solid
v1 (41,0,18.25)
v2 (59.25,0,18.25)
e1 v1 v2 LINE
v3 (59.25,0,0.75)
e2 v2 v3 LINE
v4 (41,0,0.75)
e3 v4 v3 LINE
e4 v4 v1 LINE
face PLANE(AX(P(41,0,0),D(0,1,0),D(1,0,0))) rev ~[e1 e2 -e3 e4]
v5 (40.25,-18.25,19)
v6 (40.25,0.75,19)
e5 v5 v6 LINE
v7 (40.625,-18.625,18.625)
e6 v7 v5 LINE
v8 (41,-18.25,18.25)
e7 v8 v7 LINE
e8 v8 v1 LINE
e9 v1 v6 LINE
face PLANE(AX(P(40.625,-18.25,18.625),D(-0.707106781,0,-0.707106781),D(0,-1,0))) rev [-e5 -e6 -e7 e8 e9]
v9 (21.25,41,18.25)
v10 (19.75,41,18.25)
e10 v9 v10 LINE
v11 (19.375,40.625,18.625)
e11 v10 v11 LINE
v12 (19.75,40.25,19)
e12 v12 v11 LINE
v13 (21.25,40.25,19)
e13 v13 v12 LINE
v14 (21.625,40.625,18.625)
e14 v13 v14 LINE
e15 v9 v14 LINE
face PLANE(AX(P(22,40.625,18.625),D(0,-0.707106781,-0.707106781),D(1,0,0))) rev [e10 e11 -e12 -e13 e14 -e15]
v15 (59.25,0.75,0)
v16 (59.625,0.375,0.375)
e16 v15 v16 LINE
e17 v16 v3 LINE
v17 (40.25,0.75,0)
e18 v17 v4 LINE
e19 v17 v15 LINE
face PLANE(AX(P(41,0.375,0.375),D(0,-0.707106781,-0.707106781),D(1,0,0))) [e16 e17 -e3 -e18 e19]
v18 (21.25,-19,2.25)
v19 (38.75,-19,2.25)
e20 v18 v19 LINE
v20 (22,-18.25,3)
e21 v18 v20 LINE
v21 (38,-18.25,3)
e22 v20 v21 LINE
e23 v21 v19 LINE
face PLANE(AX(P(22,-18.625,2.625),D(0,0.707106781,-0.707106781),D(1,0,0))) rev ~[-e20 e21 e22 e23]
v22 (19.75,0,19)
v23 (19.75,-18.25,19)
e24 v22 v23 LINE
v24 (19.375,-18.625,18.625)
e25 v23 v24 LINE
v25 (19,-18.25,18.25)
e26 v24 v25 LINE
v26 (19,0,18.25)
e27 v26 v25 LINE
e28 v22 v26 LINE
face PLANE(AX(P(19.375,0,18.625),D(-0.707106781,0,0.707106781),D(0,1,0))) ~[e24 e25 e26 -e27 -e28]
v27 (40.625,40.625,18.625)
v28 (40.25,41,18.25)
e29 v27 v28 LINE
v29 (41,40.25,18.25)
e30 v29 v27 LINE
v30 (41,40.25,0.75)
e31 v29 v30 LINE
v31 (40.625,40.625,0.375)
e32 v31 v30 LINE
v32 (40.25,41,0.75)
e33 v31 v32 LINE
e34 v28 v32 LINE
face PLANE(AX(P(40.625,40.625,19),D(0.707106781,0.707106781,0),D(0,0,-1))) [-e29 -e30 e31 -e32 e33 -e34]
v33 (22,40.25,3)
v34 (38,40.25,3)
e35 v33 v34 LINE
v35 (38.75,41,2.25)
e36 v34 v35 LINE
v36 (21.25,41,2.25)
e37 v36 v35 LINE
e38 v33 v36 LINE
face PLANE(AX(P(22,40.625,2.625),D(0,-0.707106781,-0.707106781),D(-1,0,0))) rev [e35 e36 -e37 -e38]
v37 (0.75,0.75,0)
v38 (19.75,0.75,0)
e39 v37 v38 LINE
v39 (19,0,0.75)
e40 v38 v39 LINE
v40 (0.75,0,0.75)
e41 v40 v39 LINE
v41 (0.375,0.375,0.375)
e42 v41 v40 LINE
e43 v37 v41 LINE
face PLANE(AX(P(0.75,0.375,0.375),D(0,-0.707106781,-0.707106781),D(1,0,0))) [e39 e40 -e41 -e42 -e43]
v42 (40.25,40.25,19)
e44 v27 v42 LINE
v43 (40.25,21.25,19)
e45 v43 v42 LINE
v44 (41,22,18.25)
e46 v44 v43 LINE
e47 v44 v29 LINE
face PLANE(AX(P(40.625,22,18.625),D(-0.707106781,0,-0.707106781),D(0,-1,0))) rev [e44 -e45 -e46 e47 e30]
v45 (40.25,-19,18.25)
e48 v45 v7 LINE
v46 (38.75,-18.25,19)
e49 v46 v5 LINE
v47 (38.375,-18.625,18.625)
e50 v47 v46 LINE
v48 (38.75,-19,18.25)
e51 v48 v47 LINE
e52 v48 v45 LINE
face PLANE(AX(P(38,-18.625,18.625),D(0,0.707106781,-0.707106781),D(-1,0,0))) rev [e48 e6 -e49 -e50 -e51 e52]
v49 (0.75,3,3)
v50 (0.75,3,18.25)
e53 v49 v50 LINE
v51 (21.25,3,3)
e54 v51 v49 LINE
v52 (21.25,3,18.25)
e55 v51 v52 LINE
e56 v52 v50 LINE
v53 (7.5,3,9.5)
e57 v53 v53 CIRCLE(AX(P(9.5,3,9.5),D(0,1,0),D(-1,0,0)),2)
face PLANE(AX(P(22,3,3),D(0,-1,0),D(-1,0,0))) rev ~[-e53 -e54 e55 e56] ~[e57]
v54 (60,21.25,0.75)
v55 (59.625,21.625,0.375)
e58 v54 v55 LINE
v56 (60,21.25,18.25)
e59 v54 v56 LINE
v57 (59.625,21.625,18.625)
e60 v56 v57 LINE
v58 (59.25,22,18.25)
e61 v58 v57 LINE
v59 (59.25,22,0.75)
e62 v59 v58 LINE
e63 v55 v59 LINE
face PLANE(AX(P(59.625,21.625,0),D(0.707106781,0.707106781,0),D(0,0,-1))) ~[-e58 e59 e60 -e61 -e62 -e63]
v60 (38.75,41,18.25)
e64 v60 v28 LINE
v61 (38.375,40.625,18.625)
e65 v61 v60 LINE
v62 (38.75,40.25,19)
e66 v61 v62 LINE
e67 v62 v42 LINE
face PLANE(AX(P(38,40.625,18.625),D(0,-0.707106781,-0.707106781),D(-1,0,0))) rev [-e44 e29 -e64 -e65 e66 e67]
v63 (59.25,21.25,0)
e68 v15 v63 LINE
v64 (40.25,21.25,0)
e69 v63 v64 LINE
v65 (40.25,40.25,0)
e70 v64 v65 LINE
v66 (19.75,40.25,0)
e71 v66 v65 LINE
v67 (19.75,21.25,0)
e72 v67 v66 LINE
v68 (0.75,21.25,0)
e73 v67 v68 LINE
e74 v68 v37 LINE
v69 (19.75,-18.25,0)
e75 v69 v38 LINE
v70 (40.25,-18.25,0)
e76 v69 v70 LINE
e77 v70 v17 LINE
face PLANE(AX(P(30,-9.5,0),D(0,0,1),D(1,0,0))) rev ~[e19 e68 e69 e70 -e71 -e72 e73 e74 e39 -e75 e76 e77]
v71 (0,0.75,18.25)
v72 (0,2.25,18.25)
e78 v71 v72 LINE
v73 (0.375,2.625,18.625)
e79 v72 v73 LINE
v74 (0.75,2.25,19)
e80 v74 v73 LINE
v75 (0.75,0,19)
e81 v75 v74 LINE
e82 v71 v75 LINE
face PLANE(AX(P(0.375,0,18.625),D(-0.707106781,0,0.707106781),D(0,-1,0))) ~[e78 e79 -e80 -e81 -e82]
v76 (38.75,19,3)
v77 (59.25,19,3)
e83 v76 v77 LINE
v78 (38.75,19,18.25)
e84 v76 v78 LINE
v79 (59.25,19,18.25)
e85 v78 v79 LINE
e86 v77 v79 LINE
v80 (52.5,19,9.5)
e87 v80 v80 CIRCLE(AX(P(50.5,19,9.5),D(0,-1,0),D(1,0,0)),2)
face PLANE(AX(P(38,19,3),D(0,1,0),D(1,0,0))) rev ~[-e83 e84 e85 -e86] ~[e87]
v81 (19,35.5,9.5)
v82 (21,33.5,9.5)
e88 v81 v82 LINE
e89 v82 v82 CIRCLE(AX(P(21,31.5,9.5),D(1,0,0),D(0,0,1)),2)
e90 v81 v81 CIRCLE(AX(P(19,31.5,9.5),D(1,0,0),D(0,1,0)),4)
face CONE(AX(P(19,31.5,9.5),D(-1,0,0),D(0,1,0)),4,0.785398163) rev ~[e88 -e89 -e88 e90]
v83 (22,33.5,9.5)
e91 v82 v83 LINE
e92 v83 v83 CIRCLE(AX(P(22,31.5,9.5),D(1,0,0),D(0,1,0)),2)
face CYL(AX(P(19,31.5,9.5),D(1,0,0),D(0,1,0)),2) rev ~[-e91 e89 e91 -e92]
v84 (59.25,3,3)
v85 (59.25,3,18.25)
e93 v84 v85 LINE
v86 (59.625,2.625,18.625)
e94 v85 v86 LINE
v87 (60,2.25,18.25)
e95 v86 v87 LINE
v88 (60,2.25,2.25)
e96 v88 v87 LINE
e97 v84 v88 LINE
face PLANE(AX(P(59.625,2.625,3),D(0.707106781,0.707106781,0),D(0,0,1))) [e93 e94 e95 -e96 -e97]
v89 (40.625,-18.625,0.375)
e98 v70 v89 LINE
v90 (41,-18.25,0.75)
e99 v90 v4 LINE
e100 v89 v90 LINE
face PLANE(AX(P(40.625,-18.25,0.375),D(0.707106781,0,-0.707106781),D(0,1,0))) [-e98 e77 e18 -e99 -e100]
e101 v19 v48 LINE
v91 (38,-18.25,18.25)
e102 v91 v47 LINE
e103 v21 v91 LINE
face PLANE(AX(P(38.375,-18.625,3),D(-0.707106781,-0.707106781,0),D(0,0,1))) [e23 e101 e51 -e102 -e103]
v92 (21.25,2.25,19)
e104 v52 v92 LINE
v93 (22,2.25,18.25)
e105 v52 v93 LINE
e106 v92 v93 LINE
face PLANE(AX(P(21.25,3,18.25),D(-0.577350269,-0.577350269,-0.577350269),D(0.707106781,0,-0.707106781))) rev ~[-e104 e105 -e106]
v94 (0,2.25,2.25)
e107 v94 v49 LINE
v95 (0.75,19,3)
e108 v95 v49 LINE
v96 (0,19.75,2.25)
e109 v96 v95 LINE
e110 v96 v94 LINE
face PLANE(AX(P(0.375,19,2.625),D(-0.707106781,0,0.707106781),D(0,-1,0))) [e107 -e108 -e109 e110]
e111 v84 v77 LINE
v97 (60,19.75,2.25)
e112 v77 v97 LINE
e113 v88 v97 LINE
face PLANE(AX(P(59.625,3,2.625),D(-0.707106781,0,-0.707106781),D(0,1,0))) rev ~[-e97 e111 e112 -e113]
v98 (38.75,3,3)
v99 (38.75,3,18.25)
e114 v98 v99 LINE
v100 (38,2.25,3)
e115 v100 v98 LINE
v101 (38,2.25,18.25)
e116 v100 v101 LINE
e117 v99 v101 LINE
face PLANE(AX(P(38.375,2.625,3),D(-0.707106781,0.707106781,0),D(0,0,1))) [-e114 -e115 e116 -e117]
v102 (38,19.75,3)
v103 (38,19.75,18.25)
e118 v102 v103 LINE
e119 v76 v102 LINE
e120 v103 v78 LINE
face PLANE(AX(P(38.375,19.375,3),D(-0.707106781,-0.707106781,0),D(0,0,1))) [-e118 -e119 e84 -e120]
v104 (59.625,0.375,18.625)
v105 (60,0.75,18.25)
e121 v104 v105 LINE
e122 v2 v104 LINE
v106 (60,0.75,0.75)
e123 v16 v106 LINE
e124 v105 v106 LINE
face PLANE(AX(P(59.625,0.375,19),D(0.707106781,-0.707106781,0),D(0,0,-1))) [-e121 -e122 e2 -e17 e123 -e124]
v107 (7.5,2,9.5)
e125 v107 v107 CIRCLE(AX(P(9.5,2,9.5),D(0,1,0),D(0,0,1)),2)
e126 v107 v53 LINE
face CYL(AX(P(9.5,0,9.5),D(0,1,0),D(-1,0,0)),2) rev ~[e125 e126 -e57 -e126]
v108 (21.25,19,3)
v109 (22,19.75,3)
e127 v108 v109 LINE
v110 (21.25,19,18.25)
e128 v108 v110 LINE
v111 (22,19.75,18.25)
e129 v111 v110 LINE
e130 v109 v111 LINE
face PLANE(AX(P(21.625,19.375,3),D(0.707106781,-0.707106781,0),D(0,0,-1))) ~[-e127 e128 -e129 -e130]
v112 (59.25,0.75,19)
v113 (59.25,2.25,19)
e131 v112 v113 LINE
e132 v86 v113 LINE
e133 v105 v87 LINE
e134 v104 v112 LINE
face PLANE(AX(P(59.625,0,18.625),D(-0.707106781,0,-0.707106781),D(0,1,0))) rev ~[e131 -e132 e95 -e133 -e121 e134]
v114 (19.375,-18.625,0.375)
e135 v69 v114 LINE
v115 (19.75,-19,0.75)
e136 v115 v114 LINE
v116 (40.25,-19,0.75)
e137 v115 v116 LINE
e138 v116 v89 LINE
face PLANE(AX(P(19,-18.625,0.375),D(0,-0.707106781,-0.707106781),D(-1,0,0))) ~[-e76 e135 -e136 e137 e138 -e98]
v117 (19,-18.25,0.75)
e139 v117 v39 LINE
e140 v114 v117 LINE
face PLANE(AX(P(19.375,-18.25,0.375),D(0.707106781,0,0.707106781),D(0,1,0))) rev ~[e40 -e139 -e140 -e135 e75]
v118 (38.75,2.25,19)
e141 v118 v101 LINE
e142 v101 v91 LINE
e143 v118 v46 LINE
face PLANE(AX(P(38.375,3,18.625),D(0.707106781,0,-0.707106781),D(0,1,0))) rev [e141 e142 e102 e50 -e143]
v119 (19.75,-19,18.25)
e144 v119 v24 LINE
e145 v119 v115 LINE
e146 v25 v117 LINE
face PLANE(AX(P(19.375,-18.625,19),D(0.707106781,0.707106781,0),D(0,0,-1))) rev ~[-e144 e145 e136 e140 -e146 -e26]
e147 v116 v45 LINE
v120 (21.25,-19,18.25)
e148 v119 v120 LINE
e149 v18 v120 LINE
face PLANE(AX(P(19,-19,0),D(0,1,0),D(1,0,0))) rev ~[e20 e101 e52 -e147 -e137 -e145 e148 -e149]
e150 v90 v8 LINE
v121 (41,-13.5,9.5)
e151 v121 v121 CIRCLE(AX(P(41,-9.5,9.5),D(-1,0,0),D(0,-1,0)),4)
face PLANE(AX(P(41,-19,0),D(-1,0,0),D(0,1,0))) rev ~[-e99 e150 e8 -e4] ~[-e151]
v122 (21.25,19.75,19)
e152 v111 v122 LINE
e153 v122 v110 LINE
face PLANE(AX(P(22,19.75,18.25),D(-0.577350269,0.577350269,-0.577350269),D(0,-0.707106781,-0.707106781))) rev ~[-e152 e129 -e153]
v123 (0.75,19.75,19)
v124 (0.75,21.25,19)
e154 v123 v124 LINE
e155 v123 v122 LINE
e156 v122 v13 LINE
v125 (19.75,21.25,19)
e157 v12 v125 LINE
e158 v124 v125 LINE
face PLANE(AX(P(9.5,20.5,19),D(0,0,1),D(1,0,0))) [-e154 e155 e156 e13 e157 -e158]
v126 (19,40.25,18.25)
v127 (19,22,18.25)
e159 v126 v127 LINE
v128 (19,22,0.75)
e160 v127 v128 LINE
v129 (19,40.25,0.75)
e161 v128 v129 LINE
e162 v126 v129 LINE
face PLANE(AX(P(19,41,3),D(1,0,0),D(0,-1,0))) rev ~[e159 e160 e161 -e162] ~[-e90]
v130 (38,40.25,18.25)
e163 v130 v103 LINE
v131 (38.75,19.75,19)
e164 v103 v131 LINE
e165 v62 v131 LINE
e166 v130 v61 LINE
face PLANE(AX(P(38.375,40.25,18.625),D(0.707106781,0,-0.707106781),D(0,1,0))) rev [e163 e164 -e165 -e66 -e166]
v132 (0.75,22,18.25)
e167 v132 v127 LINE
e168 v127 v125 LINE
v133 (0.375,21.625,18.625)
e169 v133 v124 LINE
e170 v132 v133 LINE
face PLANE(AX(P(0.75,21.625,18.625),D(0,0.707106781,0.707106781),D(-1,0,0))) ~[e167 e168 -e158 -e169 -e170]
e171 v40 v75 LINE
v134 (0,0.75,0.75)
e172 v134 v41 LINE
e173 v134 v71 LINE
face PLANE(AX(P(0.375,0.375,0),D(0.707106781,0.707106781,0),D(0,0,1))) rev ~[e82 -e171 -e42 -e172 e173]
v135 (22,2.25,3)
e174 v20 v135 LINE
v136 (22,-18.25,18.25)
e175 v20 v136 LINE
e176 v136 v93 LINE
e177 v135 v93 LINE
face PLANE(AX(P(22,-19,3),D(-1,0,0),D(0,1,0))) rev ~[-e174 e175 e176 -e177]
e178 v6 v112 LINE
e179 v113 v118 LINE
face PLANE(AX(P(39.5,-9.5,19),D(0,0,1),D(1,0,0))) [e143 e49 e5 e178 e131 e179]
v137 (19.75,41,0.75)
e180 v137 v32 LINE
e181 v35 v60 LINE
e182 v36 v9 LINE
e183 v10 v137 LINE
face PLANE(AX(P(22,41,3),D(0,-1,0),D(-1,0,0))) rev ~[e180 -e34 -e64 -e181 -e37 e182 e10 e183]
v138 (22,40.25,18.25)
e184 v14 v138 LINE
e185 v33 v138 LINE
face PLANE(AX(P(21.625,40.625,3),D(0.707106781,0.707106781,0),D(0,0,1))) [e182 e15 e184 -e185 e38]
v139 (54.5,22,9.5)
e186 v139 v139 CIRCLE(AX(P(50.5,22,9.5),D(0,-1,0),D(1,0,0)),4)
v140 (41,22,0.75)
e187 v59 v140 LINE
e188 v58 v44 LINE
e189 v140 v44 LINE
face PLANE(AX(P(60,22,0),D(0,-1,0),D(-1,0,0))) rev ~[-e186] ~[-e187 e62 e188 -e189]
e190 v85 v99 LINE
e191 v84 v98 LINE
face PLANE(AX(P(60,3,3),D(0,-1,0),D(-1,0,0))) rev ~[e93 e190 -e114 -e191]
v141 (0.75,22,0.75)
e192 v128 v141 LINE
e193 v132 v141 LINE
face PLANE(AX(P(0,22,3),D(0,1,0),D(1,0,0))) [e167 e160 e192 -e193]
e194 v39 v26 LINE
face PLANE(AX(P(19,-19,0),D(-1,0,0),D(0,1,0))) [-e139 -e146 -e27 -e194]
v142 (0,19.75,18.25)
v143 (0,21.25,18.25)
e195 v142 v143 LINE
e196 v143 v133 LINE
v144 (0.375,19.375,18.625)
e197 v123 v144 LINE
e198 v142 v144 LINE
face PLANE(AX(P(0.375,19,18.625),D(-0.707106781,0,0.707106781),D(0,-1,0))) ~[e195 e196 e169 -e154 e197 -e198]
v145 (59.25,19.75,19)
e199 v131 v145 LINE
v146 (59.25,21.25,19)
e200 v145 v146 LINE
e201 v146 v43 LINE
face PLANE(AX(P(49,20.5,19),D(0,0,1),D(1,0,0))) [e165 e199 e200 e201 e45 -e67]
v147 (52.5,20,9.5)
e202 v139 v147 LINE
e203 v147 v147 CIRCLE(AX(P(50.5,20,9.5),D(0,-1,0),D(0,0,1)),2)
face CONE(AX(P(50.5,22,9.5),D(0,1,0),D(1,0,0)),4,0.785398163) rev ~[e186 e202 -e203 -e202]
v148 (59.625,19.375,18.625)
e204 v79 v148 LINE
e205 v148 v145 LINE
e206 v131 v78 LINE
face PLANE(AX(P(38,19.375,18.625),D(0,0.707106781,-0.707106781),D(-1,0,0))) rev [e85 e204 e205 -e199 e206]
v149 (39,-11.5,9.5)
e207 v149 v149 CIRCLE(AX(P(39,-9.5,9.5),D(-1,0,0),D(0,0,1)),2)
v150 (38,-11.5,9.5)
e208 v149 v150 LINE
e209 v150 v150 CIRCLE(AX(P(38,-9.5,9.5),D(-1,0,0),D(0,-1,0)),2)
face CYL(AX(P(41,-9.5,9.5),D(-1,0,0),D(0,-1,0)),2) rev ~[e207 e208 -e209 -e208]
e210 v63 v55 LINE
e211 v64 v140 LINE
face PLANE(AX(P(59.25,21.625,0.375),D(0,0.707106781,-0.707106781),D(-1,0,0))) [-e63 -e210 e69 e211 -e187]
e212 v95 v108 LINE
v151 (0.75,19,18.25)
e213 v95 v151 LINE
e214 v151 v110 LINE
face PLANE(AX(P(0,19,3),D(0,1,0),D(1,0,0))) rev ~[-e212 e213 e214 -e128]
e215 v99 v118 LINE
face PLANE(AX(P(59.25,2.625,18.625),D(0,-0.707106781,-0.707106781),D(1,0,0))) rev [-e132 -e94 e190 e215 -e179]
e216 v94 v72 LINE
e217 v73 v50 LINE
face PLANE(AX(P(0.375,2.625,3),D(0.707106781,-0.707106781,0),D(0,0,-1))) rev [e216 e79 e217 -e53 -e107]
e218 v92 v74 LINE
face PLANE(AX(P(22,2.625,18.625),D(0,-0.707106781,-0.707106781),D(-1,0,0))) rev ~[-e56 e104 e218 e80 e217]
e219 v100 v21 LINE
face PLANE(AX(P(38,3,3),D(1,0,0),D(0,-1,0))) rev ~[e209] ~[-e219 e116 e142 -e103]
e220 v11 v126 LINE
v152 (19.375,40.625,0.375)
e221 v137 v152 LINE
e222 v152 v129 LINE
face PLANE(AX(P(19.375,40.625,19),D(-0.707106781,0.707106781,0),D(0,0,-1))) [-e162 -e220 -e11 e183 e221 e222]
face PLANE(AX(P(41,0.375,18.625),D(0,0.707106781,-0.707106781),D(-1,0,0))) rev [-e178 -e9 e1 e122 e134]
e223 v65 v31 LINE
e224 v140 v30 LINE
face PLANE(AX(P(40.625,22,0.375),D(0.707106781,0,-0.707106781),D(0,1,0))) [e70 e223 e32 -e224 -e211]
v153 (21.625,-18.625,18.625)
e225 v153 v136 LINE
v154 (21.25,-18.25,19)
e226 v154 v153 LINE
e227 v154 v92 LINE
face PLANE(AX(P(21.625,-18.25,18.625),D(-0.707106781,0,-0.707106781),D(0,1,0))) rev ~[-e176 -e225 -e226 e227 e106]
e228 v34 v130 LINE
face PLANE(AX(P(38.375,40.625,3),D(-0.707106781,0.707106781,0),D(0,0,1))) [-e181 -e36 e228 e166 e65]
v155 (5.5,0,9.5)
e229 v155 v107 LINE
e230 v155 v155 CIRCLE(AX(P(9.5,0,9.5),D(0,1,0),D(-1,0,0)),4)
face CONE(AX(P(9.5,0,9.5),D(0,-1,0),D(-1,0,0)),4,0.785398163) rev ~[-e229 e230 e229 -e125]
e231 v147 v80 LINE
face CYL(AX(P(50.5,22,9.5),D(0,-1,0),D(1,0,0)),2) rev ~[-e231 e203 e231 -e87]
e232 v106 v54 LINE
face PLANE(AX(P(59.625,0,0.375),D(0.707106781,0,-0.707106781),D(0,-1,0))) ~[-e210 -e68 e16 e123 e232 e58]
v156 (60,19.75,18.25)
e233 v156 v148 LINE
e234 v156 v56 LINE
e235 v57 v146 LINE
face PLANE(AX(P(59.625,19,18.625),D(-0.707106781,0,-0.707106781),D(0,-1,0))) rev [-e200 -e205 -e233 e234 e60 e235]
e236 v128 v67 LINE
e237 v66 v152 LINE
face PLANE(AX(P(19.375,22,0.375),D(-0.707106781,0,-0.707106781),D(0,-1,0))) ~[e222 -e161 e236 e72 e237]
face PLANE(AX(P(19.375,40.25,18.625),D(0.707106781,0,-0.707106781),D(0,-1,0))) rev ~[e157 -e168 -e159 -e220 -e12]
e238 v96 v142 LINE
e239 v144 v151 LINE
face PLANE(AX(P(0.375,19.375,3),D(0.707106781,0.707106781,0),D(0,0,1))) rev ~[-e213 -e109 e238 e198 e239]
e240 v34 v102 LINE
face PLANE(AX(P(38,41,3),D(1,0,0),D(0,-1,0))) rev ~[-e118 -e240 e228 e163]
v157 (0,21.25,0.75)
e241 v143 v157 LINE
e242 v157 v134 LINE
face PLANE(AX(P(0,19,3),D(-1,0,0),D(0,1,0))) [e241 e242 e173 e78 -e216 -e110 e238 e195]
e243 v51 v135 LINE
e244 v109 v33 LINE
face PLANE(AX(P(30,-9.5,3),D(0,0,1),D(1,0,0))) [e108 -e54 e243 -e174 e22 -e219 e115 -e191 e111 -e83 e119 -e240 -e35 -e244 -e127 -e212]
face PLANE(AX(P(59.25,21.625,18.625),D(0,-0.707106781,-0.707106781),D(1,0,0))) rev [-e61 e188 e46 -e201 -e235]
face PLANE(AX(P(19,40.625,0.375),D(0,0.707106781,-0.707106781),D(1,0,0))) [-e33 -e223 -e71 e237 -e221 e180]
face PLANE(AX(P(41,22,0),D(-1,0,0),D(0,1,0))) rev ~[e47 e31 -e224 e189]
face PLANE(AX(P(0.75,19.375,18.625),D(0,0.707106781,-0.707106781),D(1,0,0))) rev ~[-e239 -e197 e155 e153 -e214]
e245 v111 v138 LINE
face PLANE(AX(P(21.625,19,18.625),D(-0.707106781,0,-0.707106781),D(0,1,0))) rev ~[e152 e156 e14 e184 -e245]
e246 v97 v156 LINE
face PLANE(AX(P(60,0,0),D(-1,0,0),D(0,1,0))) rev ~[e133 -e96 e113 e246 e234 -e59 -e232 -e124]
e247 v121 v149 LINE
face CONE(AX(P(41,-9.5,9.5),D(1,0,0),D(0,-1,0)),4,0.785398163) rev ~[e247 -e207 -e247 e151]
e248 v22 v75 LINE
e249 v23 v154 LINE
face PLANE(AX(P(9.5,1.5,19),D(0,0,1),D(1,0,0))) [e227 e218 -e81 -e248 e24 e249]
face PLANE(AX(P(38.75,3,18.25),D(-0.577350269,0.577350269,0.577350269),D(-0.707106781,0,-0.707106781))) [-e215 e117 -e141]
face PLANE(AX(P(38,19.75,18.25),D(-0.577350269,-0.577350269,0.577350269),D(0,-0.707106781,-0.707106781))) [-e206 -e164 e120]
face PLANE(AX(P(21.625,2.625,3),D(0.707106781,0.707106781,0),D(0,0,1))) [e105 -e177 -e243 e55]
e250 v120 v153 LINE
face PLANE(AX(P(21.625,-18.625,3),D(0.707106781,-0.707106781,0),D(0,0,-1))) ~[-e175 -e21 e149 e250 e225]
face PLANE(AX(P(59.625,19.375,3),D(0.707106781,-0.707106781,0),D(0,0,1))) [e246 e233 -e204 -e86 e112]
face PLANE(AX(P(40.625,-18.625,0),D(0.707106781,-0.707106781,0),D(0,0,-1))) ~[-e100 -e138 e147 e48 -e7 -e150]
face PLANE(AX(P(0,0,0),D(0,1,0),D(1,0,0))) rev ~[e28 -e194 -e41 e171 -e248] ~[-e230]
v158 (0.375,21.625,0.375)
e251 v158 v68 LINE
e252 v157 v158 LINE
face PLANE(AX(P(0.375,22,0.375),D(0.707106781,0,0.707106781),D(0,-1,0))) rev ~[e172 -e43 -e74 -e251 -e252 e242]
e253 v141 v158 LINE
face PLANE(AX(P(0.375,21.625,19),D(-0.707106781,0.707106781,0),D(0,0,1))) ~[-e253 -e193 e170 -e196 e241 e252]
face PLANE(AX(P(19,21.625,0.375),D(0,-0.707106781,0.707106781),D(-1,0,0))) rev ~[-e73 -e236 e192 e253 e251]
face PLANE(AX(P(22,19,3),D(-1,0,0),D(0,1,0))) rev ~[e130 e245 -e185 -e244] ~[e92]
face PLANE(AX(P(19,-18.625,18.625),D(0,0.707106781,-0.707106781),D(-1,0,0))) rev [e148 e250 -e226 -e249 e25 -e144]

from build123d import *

# Parameters (mm, degrees)
F0_W            = 22
F0_H            = 19
F1_DEPTH        = 3
F2_W            = 19
F2_H            = 3
F2_W_2          = 3
F2_H_2          = 19
F3_DEPTH        = 16
F5_D            = 4
F5_DEPTH        = 12
F5_CSINK_D      = 8
F5_CSINK_ANGLE  = 90
F5_TIP          = 1.2017212381
F7_D            = 4
F7_DEPTH        = 12
F7_CSINK_D      = 8
F7_CSINK_ANGLE  = 90
F7_TIP          = 1.2017212381
F9_D            = 4
F9_DEPTH        = 12
F9_CSINK_D      = 8
F9_CSINK_ANGLE  = 90
F9_TIP          = 1.2017212381
F11_D           = 4
F11_DEPTH       = 12
F11_CSINK_D     = 8
F11_CSINK_ANGLE = 90
F11_TIP         = 1.2017212381
F12_SIZE        = 0.75
F13_SIZE        = 0.75
F14_SIZE        = 0.75


with BuildPart() as f1:
    # F0 (on Top) → F1 (new body)
    with BuildSketch(Plane.XY):
        with Locations((30, -9.5)):
            Rectangle(F0_W, F0_H)
        with Locations((30, 31.5)):
            Rectangle(F0_W, F0_H)
        Polygon((0, 22), (0, 0), (19, 0), (41, 0), (60, 0), (60, 22), (41, 22), (19, 22), align=None)
    extrude(amount=F1_DEPTH)

    # F2 (on face) → F3 (join)
    with BuildSketch(Plane.XY.offset(3)):
        with Locations((9.5, 20.5)):
            Rectangle(F2_W, F2_H)
        Polygon((19, 41), (19, 22), (19, 19), (22, 19), (22, 41), align=None)
        with Locations((9.5, 1.5)):
            Rectangle(F2_W, F2_H)
        Polygon((19, 3), (19, 0), (19, -19), (22, -19), (22, 3), align=None)
        Polygon((60, 22), (41, 22), (38, 22), (38, 19), (60, 19), align=None)
        with Locations((39.5, 31.5)):
            Rectangle(F2_W_2, F2_H_2)
        with Locations((39.5, -9.5)):
            Rectangle(F2_W_2, F2_H_2)
        Polygon((38, 0), (41, 0), (60, 0), (60, 3), (38, 3), align=None)
    extrude(amount=F3_DEPTH)

    # F5
    with Locations(Plane.XZ):
        with Locations((9.5, 9.5)):
            CounterSinkHole(F5_D / 2, F5_CSINK_D / 2, depth=F5_DEPTH, counter_sink_angle=F5_CSINK_ANGLE)
            with Locations((0, 0, -(F5_DEPTH + F5_TIP / 2))):  # 118° drill point
                Cone(0, F5_D / 2, F5_TIP, mode=Mode.SUBTRACT)

    # F7
    with Locations(Plane.YZ.offset(41)):
        with Locations((-9.5, 9.5)):
            CounterSinkHole(F7_D / 2, F7_CSINK_D / 2, depth=F7_DEPTH, counter_sink_angle=F7_CSINK_ANGLE)
            with Locations((0, 0, -(F7_DEPTH + F7_TIP / 2))):  # 118° drill point
                Cone(0, F7_D / 2, F7_TIP, mode=Mode.SUBTRACT)

    # F9
    with Locations(Plane(origin=(0, 22, 0), x_dir=(-1, 0, 0), z_dir=(0, 1, 0))):
        with Locations((-50.5, 9.5)):
            CounterSinkHole(F9_D / 2, F9_CSINK_D / 2, depth=F9_DEPTH, counter_sink_angle=F9_CSINK_ANGLE)
            with Locations((0, 0, -(F9_DEPTH + F9_TIP / 2))):  # 118° drill point
                Cone(0, F9_D / 2, F9_TIP, mode=Mode.SUBTRACT)

    # F11
    with Locations(Plane(origin=(19, 0, 0), x_dir=(0, -1, 0), z_dir=(-1, 0, 0))):
        with Locations((-31.5, 9.5)):
            CounterSinkHole(F11_D / 2, F11_CSINK_D / 2, depth=F11_DEPTH, counter_sink_angle=F11_CSINK_ANGLE)
            with Locations((0, 0, -(F11_DEPTH + F11_TIP / 2))):  # 118° drill point
                Cone(0, F11_D / 2, F11_TIP, mode=Mode.SUBTRACT)

    # F12
    f12_edges = [f1.edges().sort_by_distance(p)[0] for p in [
        (19, -19, 9.5),
        (20.5, -19, 19),
        (22, -19, 11),
        (30, -19, 3),
        (38, -19, 11),
        (39.5, -19, 19),
        (41, -19, 9.5),
        (30, -19, 0),
        (60, 0, 9.5),
        (60, 1.5, 19),
        (60, 3, 11),
        (60, 11, 3),
        (60, 19, 11),
        (60, 20.5, 19),
        (60, 22, 9.5),
        (60, 11, 0),
        (41, 41, 9.5),
        (39.5, 41, 19),
        (38, 41, 11),
        (30, 41, 3),
        (22, 41, 11),
        (20.5, 41, 19),
        (19, 41, 9.5),
        (30, 41, 0),
        (0, 22, 9.5),
        (0, 20.5, 19),
        (0, 19, 11),
        (0, 11, 3),
        (0, 3, 11),
        (0, 1.5, 19),
        (0, 0, 9.5),
        (0, 11, 0),
    ]]
    chamfer(f12_edges, length=F12_SIZE)

    # F13
    f13_edges = [f1.edges().sort_by_distance(p)[0] for p in [
        (9.875, 22, 0),
        (19, 31.125, 0),
        (41, 31.125, 0),
        (50.125, 22, 0),
        (50.125, 0, 0),
        (41, -9.125, 0),
        (19, -9.125, 0),
        (9.875, 0, 0),
    ]]
    chamfer(f13_edges, length=F13_SIZE)

    # F14
    f14_edges = [f1.edges().sort_by_distance(p)[0] for p in [
        (50.125, 0, 19),
        (41, -9.125, 19),
        (38, -7.625, 19),
        (48.625, 3, 19),
        (38, 3, 11),
        (22, -7.625, 19),
        (19, -9.125, 19),
        (11.375, 3, 19),
        (22, 3, 11),
        (11.375, 19, 19),
        (9.875, 22, 19),
        (19, 31.125, 19),
        (22, 29.625, 19),
        (22, 19, 11),
        (48.625, 19, 19),
        (50.125, 22, 19),
        (41, 31.125, 19),
        (38, 29.625, 19),
        (38, 19, 11),
    ]]
    chamfer(f14_edges, length=F14_SIZE)


solid = f1.part
